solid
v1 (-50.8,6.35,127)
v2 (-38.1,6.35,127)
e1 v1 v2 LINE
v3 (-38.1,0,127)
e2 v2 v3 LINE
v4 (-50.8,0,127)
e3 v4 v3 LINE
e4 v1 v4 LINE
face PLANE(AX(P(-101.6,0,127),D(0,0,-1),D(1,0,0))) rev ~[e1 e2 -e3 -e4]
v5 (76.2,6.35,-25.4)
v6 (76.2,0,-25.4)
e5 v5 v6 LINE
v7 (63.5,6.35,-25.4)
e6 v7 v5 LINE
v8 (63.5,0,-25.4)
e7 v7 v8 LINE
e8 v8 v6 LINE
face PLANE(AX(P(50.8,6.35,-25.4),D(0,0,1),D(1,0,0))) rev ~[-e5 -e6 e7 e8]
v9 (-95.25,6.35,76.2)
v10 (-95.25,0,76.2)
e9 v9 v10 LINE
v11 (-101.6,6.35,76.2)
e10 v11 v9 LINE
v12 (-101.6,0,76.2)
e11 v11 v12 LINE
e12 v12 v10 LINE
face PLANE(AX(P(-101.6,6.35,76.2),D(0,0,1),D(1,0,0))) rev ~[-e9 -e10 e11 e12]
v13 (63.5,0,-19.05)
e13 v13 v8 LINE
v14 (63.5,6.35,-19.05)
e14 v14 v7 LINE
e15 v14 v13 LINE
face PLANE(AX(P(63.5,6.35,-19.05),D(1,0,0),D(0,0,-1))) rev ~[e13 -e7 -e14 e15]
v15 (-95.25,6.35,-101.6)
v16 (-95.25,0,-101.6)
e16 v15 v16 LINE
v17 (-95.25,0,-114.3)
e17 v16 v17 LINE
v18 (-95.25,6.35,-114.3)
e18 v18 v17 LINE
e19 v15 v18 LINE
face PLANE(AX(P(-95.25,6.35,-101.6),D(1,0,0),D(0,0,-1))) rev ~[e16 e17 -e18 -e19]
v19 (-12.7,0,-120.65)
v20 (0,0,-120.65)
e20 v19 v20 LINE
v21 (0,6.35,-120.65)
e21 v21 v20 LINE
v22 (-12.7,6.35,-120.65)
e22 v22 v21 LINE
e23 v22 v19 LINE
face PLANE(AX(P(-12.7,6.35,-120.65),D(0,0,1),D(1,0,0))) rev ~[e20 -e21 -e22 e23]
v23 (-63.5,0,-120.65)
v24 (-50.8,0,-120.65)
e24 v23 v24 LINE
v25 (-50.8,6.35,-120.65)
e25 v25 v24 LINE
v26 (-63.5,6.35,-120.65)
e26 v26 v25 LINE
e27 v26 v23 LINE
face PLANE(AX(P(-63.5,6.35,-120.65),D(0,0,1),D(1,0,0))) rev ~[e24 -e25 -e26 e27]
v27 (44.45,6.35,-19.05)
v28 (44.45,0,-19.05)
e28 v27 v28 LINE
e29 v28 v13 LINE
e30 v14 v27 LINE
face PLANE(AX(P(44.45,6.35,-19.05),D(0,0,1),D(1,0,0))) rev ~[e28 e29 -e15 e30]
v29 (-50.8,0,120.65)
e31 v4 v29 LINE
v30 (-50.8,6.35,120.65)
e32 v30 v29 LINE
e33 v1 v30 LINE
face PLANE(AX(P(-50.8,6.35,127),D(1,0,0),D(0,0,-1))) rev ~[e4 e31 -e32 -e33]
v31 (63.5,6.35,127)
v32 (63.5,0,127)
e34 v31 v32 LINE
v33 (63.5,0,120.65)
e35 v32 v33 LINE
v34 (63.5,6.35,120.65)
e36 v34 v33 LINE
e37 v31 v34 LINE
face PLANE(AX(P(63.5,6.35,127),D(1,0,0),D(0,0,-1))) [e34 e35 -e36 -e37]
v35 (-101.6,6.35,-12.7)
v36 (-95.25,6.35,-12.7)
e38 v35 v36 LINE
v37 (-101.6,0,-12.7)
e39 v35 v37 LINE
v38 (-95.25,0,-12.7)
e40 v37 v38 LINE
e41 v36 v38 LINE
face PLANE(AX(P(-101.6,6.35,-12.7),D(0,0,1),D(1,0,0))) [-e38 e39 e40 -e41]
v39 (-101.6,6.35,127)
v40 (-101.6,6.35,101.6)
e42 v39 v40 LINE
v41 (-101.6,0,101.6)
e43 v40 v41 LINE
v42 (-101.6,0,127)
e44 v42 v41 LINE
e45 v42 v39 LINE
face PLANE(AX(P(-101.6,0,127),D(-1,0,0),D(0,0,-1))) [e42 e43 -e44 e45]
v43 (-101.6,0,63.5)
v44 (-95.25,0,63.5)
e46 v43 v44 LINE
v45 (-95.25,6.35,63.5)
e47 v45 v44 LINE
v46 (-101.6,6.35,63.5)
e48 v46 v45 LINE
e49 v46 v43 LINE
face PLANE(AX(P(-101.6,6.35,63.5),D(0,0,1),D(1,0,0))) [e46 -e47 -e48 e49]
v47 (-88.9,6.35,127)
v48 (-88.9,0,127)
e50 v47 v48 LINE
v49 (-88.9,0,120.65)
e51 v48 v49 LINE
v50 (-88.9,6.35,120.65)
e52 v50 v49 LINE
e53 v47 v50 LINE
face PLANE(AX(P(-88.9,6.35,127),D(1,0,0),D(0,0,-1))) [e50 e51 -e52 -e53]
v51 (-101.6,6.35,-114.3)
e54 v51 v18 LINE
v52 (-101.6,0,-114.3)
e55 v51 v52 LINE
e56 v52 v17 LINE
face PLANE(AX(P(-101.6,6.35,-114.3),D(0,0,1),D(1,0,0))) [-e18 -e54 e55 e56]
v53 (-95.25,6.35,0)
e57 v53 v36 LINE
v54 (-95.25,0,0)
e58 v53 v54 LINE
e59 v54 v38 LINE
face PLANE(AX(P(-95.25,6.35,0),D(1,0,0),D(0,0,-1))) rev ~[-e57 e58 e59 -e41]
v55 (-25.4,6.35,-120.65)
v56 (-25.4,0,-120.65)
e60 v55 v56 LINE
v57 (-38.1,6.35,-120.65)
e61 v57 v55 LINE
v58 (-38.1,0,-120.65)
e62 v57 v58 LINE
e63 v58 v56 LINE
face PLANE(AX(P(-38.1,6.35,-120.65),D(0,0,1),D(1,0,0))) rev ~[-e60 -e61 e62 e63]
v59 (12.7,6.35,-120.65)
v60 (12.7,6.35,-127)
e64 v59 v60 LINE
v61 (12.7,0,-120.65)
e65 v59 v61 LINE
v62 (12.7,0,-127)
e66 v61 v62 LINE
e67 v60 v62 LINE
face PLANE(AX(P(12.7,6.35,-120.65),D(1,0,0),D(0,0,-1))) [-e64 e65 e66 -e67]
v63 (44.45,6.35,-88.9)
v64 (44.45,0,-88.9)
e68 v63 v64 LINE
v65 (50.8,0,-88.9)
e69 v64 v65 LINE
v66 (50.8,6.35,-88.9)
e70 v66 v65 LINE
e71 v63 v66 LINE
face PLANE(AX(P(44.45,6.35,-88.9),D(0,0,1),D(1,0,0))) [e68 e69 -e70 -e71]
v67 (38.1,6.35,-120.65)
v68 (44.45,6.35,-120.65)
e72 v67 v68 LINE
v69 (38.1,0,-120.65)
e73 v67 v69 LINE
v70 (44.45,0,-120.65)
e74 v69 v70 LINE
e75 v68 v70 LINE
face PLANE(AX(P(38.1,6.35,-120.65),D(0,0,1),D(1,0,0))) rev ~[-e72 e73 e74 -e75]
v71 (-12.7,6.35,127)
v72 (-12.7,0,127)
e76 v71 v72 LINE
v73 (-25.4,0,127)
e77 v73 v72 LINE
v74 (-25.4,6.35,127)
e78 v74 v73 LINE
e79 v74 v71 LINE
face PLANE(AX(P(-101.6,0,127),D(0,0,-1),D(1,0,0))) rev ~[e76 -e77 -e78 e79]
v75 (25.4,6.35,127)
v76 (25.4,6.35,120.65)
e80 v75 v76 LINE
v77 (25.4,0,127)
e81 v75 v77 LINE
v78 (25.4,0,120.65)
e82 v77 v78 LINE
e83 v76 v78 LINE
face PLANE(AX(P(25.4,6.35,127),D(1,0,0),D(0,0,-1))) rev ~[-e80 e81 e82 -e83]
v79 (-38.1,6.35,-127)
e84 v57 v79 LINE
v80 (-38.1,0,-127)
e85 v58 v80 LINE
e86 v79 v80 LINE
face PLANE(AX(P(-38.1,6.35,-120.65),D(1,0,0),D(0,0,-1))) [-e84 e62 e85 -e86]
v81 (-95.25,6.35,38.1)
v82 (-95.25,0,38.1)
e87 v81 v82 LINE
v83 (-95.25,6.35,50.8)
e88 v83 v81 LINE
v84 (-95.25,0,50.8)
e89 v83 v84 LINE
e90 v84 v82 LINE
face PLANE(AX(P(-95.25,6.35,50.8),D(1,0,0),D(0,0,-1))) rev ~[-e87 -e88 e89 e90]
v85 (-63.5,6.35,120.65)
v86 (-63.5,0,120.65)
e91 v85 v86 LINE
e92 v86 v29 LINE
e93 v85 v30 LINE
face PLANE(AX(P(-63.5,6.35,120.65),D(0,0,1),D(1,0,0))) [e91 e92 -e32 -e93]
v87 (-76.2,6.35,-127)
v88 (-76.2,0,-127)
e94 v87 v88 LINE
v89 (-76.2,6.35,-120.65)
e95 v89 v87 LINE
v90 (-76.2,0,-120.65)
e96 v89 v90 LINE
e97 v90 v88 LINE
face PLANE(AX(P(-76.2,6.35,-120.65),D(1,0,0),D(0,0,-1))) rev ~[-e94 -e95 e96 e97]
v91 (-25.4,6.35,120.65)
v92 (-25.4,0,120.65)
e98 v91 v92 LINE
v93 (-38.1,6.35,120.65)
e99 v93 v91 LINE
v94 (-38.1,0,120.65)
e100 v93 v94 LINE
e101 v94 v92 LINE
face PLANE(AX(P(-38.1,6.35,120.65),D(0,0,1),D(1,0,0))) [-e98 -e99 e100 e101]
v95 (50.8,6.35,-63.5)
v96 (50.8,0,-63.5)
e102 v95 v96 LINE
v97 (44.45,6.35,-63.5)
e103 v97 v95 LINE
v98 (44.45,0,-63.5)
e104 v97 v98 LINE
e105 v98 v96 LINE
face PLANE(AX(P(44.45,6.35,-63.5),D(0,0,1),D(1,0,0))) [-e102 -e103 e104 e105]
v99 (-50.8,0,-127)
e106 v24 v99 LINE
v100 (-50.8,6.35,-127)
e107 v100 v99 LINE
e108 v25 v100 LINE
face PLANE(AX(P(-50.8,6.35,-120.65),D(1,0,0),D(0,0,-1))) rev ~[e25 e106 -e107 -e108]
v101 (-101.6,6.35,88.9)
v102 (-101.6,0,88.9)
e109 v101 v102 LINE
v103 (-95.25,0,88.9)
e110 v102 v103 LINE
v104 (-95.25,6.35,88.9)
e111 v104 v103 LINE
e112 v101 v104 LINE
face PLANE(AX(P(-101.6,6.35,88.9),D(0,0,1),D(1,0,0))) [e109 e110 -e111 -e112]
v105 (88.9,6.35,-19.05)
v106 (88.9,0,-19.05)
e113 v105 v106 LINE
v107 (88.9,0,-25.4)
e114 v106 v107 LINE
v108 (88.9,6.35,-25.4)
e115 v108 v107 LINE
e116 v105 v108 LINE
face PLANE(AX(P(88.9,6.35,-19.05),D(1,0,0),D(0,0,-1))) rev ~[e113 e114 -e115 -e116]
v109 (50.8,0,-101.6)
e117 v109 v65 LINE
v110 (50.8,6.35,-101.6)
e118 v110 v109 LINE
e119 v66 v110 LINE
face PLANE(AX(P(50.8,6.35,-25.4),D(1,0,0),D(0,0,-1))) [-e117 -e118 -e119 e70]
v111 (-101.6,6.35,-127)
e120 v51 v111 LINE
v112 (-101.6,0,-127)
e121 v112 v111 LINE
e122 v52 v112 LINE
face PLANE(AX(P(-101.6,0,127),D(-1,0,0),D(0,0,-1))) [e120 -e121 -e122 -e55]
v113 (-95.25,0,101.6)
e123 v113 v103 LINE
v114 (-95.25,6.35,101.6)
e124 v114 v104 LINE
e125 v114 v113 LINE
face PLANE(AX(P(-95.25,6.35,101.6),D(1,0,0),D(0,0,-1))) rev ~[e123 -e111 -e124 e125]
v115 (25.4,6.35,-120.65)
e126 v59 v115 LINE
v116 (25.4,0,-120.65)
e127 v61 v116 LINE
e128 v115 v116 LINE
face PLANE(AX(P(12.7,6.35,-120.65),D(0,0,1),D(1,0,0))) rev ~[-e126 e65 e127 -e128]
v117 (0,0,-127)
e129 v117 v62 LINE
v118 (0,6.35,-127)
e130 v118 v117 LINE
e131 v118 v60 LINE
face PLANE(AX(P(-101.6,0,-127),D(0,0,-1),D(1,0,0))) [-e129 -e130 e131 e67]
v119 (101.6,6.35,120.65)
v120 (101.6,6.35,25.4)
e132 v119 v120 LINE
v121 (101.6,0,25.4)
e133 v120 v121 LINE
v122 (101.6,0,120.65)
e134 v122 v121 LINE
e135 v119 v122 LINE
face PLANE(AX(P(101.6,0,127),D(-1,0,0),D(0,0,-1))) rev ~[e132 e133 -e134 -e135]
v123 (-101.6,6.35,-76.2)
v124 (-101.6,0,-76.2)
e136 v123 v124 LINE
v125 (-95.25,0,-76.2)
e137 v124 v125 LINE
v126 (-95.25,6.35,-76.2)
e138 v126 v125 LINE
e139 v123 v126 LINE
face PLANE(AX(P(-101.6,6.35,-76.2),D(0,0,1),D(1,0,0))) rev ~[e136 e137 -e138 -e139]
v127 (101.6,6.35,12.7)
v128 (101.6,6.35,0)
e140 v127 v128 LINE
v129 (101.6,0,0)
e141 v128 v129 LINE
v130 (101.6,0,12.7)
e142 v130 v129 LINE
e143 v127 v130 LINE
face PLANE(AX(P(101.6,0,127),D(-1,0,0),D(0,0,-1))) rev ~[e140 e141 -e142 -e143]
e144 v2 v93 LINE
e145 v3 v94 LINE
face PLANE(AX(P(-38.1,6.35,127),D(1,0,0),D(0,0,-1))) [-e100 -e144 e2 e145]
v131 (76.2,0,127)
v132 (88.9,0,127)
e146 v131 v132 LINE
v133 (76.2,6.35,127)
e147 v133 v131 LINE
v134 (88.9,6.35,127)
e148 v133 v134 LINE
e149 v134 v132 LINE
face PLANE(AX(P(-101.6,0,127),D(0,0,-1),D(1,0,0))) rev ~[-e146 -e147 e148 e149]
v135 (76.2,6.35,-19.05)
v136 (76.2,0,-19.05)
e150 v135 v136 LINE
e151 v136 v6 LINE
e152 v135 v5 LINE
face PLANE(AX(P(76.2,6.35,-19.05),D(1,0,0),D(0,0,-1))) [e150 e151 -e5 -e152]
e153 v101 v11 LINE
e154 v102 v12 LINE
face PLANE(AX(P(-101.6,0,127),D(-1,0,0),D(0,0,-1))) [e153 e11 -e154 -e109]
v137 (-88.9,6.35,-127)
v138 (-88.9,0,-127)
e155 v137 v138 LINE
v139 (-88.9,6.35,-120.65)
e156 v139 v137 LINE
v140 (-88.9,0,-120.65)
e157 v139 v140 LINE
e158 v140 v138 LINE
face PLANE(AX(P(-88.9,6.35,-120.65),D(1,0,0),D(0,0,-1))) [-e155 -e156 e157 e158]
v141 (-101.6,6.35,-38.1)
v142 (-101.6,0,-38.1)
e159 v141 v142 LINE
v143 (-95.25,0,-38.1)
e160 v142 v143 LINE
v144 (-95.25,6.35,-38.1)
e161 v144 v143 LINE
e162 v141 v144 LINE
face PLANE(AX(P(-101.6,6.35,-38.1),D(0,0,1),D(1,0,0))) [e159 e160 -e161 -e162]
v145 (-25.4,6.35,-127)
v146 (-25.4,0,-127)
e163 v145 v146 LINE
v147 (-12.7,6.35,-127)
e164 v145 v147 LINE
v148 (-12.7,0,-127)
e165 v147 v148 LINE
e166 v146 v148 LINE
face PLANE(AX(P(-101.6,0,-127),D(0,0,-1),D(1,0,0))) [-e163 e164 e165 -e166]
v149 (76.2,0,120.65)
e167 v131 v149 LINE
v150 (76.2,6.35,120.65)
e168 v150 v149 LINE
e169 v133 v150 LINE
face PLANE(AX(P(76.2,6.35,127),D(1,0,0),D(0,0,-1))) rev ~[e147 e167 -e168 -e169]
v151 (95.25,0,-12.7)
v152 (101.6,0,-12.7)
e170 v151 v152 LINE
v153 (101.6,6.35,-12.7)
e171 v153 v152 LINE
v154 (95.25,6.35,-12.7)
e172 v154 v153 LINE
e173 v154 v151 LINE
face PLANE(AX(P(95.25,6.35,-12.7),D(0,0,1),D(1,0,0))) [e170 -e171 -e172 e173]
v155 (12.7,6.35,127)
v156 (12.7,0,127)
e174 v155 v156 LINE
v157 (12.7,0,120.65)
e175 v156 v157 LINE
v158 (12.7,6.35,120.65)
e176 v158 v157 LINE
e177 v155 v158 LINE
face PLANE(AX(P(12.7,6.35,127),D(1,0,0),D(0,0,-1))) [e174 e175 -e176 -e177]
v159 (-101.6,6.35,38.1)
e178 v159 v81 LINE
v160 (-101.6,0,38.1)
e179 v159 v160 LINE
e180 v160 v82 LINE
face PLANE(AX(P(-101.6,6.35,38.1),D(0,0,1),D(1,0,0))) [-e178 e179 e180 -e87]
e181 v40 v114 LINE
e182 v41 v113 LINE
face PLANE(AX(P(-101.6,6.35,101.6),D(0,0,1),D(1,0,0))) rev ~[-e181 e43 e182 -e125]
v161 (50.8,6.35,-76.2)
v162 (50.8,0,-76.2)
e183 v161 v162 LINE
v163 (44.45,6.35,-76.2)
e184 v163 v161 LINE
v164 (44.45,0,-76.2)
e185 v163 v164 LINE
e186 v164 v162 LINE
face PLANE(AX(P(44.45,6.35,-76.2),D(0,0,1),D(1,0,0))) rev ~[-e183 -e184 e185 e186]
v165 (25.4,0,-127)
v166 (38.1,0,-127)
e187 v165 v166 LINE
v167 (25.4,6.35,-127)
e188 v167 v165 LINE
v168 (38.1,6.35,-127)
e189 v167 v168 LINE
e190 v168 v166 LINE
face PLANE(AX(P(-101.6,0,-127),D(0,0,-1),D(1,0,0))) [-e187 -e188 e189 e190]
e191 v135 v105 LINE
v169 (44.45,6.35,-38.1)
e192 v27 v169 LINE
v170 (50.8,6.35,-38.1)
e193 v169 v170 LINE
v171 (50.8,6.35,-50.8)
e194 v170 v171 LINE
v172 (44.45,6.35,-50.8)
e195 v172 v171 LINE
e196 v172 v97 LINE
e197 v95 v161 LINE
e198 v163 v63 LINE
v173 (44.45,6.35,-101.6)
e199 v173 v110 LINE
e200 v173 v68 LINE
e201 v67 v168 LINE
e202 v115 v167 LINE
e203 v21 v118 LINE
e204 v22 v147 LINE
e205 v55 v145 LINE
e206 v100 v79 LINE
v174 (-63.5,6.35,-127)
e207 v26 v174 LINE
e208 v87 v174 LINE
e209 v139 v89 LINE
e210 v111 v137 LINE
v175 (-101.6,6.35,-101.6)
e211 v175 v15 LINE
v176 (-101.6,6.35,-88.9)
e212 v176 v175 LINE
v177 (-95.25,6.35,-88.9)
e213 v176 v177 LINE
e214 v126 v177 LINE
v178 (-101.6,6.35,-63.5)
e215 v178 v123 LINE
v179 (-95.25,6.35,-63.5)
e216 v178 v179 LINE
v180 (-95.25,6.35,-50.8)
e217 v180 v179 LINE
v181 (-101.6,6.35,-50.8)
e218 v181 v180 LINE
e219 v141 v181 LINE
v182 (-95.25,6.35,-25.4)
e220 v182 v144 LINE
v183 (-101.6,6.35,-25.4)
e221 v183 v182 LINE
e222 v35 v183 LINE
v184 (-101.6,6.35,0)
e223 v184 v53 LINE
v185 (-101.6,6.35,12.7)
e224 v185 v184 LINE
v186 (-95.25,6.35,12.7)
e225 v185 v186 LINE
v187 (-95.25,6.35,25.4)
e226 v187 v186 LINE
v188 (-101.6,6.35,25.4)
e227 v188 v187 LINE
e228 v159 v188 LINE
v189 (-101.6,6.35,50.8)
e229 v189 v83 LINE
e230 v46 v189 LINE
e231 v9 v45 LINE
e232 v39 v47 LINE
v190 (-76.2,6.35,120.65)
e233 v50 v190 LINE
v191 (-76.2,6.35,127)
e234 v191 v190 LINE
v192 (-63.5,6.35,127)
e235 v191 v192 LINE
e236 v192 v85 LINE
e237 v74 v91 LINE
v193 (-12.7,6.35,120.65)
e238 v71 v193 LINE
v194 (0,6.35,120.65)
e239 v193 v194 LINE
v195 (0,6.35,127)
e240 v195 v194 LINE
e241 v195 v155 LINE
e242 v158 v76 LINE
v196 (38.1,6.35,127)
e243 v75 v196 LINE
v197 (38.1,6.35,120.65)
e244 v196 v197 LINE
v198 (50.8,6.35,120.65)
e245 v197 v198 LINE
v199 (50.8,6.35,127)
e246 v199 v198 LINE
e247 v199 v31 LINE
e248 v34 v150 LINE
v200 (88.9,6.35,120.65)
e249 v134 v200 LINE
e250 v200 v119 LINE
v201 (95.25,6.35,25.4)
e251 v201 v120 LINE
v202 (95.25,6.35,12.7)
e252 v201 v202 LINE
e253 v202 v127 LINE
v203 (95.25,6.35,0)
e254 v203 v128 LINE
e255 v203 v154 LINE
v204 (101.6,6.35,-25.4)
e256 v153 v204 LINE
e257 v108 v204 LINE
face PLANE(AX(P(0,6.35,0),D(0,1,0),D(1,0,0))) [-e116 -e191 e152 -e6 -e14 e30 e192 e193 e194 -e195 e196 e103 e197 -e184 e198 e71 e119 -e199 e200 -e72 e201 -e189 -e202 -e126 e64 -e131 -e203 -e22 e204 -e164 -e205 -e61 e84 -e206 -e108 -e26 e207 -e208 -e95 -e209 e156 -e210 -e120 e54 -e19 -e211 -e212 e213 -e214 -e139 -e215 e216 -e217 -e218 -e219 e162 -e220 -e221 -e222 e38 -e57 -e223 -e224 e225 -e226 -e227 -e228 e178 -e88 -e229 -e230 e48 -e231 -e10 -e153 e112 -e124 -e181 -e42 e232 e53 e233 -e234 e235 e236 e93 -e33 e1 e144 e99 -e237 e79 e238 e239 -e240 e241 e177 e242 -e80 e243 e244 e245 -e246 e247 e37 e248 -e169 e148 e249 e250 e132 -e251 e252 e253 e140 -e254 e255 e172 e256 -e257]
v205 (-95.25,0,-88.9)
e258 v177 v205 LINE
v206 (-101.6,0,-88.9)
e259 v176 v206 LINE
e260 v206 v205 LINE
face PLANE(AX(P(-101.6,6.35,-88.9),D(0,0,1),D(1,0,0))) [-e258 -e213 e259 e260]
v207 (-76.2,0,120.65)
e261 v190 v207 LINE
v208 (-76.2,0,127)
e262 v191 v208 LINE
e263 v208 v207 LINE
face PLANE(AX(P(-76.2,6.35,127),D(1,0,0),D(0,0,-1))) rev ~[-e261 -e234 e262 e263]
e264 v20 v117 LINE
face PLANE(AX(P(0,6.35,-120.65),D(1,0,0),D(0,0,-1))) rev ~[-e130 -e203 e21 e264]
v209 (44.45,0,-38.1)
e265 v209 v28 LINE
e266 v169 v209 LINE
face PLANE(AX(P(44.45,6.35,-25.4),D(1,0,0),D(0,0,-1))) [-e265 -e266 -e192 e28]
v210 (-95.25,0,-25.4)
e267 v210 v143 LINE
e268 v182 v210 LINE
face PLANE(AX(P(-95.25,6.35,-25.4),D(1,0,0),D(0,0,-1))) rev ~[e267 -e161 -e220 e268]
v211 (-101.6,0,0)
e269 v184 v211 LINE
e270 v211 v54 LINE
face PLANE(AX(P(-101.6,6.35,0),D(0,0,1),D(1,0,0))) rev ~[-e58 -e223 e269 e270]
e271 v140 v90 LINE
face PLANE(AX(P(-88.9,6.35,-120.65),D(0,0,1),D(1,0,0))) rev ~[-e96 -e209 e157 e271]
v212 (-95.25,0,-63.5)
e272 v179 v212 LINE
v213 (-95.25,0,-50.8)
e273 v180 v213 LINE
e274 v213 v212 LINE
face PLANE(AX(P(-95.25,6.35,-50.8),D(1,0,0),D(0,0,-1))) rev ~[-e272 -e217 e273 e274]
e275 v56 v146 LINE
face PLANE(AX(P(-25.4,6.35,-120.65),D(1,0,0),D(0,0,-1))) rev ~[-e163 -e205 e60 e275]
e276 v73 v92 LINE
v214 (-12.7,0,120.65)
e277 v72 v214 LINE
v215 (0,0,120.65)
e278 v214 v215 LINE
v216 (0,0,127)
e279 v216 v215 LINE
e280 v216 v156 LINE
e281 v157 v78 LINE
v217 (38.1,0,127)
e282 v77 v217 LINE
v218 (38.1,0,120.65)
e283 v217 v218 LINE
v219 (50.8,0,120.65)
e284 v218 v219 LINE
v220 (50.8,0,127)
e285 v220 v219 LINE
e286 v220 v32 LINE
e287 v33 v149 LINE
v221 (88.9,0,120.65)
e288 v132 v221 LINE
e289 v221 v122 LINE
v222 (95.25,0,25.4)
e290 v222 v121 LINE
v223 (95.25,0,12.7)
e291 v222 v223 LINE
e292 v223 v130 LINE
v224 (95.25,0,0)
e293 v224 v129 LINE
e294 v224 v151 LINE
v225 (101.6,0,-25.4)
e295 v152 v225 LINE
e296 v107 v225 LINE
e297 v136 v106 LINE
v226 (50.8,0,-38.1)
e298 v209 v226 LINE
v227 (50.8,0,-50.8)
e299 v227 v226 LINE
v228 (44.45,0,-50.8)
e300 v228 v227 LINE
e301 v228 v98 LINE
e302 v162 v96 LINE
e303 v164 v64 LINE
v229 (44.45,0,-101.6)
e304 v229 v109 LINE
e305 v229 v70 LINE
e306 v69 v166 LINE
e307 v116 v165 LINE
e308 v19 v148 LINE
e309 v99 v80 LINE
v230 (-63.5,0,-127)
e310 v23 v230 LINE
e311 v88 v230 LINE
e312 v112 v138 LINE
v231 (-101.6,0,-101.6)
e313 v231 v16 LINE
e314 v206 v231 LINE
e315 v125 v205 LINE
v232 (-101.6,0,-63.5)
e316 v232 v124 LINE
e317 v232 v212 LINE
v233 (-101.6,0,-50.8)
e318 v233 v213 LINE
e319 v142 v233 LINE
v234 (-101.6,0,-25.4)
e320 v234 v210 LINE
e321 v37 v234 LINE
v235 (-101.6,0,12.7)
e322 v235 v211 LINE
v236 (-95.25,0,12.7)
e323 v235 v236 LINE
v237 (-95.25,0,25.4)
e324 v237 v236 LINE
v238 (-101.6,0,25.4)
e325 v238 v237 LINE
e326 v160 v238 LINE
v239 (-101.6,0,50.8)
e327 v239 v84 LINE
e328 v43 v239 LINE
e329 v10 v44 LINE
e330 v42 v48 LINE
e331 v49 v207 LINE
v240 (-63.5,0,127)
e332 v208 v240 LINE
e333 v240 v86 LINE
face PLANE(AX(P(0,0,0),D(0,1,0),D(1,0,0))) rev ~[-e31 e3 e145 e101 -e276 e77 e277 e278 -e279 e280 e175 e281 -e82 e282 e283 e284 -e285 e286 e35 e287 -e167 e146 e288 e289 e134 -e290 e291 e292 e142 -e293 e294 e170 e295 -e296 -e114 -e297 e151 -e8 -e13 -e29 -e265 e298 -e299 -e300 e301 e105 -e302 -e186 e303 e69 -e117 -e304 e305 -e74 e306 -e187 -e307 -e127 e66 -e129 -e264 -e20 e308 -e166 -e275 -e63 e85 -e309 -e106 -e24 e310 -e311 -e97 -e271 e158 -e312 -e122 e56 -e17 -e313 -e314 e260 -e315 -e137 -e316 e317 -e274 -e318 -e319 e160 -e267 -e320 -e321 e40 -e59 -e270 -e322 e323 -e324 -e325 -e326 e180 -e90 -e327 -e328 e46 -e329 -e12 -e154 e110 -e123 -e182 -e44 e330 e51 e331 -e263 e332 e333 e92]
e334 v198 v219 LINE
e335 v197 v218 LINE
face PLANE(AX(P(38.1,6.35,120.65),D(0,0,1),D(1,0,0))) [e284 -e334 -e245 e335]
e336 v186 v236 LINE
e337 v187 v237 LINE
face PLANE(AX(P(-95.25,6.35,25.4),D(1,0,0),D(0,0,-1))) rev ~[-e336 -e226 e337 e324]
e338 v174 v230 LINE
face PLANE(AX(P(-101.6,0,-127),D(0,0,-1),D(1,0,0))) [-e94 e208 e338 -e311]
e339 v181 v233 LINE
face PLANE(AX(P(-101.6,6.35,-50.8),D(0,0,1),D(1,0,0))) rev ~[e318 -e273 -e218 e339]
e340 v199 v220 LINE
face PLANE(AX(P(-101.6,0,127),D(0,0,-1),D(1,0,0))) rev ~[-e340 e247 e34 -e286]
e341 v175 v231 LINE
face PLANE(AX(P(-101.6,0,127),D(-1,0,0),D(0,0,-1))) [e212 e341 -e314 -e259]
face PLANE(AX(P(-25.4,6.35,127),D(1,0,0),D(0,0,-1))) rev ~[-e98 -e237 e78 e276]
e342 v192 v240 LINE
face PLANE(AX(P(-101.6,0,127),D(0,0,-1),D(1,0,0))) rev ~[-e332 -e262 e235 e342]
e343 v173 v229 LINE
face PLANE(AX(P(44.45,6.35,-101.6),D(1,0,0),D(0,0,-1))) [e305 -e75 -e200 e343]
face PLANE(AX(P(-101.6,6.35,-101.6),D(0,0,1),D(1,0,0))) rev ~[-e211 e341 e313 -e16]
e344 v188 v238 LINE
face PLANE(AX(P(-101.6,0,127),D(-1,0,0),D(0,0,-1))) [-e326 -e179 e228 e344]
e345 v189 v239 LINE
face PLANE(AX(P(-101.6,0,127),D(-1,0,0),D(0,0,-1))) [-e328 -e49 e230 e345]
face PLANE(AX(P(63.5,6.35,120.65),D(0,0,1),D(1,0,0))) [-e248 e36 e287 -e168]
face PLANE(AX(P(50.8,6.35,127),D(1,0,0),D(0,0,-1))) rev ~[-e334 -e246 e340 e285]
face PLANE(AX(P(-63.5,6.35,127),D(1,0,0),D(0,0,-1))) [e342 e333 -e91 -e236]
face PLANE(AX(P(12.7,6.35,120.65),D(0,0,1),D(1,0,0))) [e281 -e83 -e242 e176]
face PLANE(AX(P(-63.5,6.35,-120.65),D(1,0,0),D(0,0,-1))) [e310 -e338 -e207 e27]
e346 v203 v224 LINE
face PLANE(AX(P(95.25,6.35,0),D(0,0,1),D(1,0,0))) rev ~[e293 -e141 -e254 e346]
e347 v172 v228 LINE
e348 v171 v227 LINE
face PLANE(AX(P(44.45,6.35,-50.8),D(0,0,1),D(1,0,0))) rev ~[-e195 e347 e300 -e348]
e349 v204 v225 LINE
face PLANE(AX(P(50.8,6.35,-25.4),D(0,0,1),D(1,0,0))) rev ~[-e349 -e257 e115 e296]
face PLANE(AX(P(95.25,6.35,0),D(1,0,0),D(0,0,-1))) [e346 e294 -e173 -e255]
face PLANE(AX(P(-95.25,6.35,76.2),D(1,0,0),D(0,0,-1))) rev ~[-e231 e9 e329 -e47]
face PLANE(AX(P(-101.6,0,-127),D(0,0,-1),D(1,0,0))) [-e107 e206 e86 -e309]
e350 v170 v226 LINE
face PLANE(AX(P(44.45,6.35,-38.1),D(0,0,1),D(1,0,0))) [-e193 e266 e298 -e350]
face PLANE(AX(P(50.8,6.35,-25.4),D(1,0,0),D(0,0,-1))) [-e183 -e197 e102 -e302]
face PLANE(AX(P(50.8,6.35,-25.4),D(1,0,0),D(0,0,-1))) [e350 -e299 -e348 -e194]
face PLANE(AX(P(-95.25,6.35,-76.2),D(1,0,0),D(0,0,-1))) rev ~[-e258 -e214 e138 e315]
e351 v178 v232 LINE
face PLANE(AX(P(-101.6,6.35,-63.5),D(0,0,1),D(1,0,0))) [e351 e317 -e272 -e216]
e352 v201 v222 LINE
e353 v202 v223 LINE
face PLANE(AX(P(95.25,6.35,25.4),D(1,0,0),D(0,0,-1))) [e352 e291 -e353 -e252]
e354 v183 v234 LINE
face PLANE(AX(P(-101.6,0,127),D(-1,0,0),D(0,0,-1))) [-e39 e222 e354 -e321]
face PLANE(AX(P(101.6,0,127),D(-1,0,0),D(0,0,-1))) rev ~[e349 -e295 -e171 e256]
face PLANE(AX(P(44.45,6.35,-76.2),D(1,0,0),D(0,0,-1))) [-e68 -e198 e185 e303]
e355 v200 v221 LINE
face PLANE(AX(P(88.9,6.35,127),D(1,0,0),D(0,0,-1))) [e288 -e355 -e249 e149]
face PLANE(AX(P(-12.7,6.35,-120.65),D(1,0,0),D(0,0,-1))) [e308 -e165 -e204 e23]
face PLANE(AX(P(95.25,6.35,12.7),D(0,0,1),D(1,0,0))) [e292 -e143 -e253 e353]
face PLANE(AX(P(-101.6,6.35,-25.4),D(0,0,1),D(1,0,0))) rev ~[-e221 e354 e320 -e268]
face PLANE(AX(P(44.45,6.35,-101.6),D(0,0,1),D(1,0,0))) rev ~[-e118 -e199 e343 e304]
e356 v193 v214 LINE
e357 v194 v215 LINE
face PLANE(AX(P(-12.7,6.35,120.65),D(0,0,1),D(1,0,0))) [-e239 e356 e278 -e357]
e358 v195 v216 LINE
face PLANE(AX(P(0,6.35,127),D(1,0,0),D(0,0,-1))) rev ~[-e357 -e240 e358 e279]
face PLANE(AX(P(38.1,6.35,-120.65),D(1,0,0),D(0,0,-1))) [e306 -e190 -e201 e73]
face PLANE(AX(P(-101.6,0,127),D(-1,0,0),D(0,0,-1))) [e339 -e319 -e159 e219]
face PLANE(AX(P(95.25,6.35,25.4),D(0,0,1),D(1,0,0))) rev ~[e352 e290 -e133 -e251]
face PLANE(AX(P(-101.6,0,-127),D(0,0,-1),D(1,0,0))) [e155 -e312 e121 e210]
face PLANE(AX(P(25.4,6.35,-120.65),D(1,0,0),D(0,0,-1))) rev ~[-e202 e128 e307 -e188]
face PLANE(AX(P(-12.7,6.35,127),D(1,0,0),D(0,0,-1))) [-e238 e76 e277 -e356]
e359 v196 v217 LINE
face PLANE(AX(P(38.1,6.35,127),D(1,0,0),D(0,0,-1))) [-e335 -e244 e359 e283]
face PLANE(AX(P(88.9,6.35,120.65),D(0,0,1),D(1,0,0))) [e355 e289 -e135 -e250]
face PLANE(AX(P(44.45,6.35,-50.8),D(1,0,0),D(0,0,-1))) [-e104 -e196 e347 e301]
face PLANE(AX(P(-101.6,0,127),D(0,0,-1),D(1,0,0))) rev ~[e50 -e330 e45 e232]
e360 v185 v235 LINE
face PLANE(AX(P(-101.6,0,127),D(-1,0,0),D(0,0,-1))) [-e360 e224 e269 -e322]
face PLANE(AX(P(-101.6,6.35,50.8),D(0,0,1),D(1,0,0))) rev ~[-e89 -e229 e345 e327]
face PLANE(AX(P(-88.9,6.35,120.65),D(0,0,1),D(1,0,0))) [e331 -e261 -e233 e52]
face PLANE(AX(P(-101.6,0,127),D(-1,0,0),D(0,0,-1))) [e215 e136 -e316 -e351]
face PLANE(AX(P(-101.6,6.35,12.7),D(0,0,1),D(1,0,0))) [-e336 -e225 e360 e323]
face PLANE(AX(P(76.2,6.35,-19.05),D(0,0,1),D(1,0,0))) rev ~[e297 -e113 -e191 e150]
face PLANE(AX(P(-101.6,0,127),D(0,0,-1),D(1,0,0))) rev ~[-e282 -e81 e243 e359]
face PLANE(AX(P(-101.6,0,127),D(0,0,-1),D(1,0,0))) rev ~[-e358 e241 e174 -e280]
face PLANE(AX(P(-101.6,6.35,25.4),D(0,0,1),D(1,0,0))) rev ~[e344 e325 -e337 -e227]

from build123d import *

# Parameters (mm, degrees)
SKETCH1_W           = 203.2
SKETCH1_H           = 254
BOSS_EXTRUDE1_DEPTH = 6.35
SKETCH2_W           = 50.8
SKETCH2_H           = 101.6
CUT_EXTRUDE2_DEPTH  = 7.35
SKETCH3_W           = 12.7
SKETCH3_H           = 6.35
CUT_EXTRUDE3_DEPTH  = 7.35
LPATTERN1_COUNT     = 8
LPATTERN1_PITCH     = 25.4
SKETCH4_W           = 6.35
SKETCH4_H           = 12.7
CUT_EXTRUDE4_DEPTH  = 7.35
LPATTERN2_COUNT     = 9
LPATTERN2_PITCH     = 25.4
SKETCH5_W           = 12.7
SKETCH5_H           = 6.35
CUT_EXTRUDE5_DEPTH  = 7.35
LPATTERN3_COUNT     = 6
LPATTERN3_PITCH     = 25.4
SKETCH7_W           = 6.35
SKETCH7_H           = 12.7
CUT_EXTRUDE8_DEPTH  = 7.35
LPATTERN5_COUNT     = 2
LPATTERN5_PITCH     = 25.4
SKETCH8_W           = 12.7
SKETCH8_H           = 6.35
CUT_EXTRUDE9_DEPTH  = 7.35
LPATTERN6_COUNT     = 2
LPATTERN6_PITCH     = 25.4
SKETCH9_W           = 6.35
SKETCH9_H           = 19.05
CUT_EXTRUDE10_DEPTH = 7.35
SKETCH10_W          = 6.35
SKETCH10_H          = 12.7
CUT_EXTRUDE11_DEPTH = 7.35
LPATTERN7_COUNT     = 3
LPATTERN7_PITCH     = 25.4
SKETCH11_W          = 6.35
SKETCH11_H          = 6.35
CUT_EXTRUDE12_DEPTH = 7.35


with BuildPart() as part:
    # Sketch1 → Boss-Extrude1 (new body)
    with BuildSketch(Plane(origin=(0, 0, 0), x_dir=(1, 0, 0), z_dir=(0, 1, 0))):
        Rectangle(SKETCH1_W, SKETCH1_H)
    extrude(amount=BOSS_EXTRUDE1_DEPTH)

    # Sketch2 → Cut-Extrude2 (cut, through all)
    with BuildSketch(Plane(origin=(0, 6.35, 0), x_dir=(1, 0, 0), z_dir=(0, 1, 0))):
        with Locations((76.2, 76.2)):
            Rectangle(SKETCH2_W, SKETCH2_H)
    extrude(amount=-CUT_EXTRUDE2_DEPTH, mode=Mode.SUBTRACT)

    # Sketch3 → Cut-Extrude3 (cut, through all)
    with BuildSketch(Plane(origin=(0, 6.35, 0), x_dir=(1, 0, 0), z_dir=(0, 1, 0))):
        with Locations((95.25, -123.825)):
            Rectangle(SKETCH3_W, SKETCH3_H)
    cut_extrude3 = extrude(amount=-CUT_EXTRUDE3_DEPTH, mode=Mode.SUBTRACT)

    # LPattern1: Cut-Extrude3 ×8
    with Locations(*[(-i * LPATTERN1_PITCH, 0, 0) for i in range(1, LPATTERN1_COUNT)]):
        add(cut_extrude3, mode=Mode.SUBTRACT)

    # Sketch4 → Cut-Extrude4 (cut, through all)
    with BuildSketch(Plane(origin=(0, 6.35, 0), x_dir=(1, 0, 0), z_dir=(0, 1, 0))):
        with Locations((-98.425, -95.25)):
            Rectangle(SKETCH4_W, SKETCH4_H)
    cut_extrude4 = extrude(amount=-CUT_EXTRUDE4_DEPTH, mode=Mode.SUBTRACT)

    # LPattern2: Cut-Extrude4 ×9
    with Locations(*[(0, 0, -i * LPATTERN2_PITCH) for i in range(1, LPATTERN2_COUNT)]):
        add(cut_extrude4, mode=Mode.SUBTRACT)

    # Sketch5 → Cut-Extrude5 (cut, through all)
    with BuildSketch(Plane(origin=(0, 6.35, 0), x_dir=(1, 0, 0), z_dir=(0, 1, 0))):
        with Locations((44.45, 123.825)):
            Rectangle(SKETCH5_W, SKETCH5_H)
    cut_extrude5 = extrude(amount=-CUT_EXTRUDE5_DEPTH, mode=Mode.SUBTRACT)

    # LPattern3: Cut-Extrude5 ×6
    with Locations(*[(-i * LPATTERN3_PITCH, 0, 0) for i in range(1, LPATTERN3_COUNT)]):
        add(cut_extrude5, mode=Mode.SUBTRACT)

    # Sketch7 → Cut-Extrude8 (cut, through all)
    with BuildSketch(Plane(origin=(0, 6.35, 0), x_dir=(1, 0, 0), z_dir=(0, 1, 0))):
        with Locations((98.425, 6.35)):
            Rectangle(SKETCH7_W, SKETCH7_H)
    cut_extrude8 = extrude(amount=-CUT_EXTRUDE8_DEPTH, mode=Mode.SUBTRACT)

    # LPattern5: Cut-Extrude8 ×2
    with Locations(*[(0, 0, i * LPATTERN5_PITCH) for i in range(1, LPATTERN5_COUNT)]):
        add(cut_extrude8, mode=Mode.SUBTRACT)

    # Sketch8 → Cut-Extrude9 (cut, through all)
    with BuildSketch(Plane(origin=(0, 6.35, 0), x_dir=(1, 0, 0), z_dir=(0, 1, 0))):
        with Locations((82.55, 22.225)):
            Rectangle(SKETCH8_W, SKETCH8_H)
    cut_extrude9 = extrude(amount=-CUT_EXTRUDE9_DEPTH, mode=Mode.SUBTRACT)

    # LPattern6: Cut-Extrude9 ×2
    with Locations(*[(-i * LPATTERN6_PITCH, 0, 0) for i in range(1, LPATTERN6_COUNT)]):
        add(cut_extrude9, mode=Mode.SUBTRACT)

    # Sketch9 → Cut-Extrude10 (cut, through all)
    with BuildSketch(Plane(origin=(0, 6.35, 0), x_dir=(1, 0, 0), z_dir=(0, 1, 0))):
        with Locations((47.625, 111.125)):
            Rectangle(SKETCH9_W, SKETCH9_H)
    extrude(amount=-CUT_EXTRUDE10_DEPTH, mode=Mode.SUBTRACT)

    # Sketch10 → Cut-Extrude11 (cut, through all)
    with BuildSketch(Plane(origin=(0, 6.35, 0), x_dir=(1, 0, 0), z_dir=(0, 1, 0))):
        with Locations((47.625, 82.55)):
            Rectangle(SKETCH10_W, SKETCH10_H)
    cut_extrude11 = extrude(amount=-CUT_EXTRUDE11_DEPTH, mode=Mode.SUBTRACT)

    # LPattern7: Cut-Extrude11 ×3
    with Locations(*[(0, 0, i * LPATTERN7_PITCH) for i in range(1, LPATTERN7_COUNT)]):
        add(cut_extrude11, mode=Mode.SUBTRACT)

    # Sketch11 → Cut-Extrude12 (cut, through all)
    with BuildSketch(Plane(origin=(0, 6.35, 0), x_dir=(1, 0, 0), z_dir=(0, 1, 0))):
        with Locations((47.625, 22.225)):
            Rectangle(SKETCH11_W, SKETCH11_H)
    extrude(amount=-CUT_EXTRUDE12_DEPTH, mode=Mode.SUBTRACT)


solid = part.part
